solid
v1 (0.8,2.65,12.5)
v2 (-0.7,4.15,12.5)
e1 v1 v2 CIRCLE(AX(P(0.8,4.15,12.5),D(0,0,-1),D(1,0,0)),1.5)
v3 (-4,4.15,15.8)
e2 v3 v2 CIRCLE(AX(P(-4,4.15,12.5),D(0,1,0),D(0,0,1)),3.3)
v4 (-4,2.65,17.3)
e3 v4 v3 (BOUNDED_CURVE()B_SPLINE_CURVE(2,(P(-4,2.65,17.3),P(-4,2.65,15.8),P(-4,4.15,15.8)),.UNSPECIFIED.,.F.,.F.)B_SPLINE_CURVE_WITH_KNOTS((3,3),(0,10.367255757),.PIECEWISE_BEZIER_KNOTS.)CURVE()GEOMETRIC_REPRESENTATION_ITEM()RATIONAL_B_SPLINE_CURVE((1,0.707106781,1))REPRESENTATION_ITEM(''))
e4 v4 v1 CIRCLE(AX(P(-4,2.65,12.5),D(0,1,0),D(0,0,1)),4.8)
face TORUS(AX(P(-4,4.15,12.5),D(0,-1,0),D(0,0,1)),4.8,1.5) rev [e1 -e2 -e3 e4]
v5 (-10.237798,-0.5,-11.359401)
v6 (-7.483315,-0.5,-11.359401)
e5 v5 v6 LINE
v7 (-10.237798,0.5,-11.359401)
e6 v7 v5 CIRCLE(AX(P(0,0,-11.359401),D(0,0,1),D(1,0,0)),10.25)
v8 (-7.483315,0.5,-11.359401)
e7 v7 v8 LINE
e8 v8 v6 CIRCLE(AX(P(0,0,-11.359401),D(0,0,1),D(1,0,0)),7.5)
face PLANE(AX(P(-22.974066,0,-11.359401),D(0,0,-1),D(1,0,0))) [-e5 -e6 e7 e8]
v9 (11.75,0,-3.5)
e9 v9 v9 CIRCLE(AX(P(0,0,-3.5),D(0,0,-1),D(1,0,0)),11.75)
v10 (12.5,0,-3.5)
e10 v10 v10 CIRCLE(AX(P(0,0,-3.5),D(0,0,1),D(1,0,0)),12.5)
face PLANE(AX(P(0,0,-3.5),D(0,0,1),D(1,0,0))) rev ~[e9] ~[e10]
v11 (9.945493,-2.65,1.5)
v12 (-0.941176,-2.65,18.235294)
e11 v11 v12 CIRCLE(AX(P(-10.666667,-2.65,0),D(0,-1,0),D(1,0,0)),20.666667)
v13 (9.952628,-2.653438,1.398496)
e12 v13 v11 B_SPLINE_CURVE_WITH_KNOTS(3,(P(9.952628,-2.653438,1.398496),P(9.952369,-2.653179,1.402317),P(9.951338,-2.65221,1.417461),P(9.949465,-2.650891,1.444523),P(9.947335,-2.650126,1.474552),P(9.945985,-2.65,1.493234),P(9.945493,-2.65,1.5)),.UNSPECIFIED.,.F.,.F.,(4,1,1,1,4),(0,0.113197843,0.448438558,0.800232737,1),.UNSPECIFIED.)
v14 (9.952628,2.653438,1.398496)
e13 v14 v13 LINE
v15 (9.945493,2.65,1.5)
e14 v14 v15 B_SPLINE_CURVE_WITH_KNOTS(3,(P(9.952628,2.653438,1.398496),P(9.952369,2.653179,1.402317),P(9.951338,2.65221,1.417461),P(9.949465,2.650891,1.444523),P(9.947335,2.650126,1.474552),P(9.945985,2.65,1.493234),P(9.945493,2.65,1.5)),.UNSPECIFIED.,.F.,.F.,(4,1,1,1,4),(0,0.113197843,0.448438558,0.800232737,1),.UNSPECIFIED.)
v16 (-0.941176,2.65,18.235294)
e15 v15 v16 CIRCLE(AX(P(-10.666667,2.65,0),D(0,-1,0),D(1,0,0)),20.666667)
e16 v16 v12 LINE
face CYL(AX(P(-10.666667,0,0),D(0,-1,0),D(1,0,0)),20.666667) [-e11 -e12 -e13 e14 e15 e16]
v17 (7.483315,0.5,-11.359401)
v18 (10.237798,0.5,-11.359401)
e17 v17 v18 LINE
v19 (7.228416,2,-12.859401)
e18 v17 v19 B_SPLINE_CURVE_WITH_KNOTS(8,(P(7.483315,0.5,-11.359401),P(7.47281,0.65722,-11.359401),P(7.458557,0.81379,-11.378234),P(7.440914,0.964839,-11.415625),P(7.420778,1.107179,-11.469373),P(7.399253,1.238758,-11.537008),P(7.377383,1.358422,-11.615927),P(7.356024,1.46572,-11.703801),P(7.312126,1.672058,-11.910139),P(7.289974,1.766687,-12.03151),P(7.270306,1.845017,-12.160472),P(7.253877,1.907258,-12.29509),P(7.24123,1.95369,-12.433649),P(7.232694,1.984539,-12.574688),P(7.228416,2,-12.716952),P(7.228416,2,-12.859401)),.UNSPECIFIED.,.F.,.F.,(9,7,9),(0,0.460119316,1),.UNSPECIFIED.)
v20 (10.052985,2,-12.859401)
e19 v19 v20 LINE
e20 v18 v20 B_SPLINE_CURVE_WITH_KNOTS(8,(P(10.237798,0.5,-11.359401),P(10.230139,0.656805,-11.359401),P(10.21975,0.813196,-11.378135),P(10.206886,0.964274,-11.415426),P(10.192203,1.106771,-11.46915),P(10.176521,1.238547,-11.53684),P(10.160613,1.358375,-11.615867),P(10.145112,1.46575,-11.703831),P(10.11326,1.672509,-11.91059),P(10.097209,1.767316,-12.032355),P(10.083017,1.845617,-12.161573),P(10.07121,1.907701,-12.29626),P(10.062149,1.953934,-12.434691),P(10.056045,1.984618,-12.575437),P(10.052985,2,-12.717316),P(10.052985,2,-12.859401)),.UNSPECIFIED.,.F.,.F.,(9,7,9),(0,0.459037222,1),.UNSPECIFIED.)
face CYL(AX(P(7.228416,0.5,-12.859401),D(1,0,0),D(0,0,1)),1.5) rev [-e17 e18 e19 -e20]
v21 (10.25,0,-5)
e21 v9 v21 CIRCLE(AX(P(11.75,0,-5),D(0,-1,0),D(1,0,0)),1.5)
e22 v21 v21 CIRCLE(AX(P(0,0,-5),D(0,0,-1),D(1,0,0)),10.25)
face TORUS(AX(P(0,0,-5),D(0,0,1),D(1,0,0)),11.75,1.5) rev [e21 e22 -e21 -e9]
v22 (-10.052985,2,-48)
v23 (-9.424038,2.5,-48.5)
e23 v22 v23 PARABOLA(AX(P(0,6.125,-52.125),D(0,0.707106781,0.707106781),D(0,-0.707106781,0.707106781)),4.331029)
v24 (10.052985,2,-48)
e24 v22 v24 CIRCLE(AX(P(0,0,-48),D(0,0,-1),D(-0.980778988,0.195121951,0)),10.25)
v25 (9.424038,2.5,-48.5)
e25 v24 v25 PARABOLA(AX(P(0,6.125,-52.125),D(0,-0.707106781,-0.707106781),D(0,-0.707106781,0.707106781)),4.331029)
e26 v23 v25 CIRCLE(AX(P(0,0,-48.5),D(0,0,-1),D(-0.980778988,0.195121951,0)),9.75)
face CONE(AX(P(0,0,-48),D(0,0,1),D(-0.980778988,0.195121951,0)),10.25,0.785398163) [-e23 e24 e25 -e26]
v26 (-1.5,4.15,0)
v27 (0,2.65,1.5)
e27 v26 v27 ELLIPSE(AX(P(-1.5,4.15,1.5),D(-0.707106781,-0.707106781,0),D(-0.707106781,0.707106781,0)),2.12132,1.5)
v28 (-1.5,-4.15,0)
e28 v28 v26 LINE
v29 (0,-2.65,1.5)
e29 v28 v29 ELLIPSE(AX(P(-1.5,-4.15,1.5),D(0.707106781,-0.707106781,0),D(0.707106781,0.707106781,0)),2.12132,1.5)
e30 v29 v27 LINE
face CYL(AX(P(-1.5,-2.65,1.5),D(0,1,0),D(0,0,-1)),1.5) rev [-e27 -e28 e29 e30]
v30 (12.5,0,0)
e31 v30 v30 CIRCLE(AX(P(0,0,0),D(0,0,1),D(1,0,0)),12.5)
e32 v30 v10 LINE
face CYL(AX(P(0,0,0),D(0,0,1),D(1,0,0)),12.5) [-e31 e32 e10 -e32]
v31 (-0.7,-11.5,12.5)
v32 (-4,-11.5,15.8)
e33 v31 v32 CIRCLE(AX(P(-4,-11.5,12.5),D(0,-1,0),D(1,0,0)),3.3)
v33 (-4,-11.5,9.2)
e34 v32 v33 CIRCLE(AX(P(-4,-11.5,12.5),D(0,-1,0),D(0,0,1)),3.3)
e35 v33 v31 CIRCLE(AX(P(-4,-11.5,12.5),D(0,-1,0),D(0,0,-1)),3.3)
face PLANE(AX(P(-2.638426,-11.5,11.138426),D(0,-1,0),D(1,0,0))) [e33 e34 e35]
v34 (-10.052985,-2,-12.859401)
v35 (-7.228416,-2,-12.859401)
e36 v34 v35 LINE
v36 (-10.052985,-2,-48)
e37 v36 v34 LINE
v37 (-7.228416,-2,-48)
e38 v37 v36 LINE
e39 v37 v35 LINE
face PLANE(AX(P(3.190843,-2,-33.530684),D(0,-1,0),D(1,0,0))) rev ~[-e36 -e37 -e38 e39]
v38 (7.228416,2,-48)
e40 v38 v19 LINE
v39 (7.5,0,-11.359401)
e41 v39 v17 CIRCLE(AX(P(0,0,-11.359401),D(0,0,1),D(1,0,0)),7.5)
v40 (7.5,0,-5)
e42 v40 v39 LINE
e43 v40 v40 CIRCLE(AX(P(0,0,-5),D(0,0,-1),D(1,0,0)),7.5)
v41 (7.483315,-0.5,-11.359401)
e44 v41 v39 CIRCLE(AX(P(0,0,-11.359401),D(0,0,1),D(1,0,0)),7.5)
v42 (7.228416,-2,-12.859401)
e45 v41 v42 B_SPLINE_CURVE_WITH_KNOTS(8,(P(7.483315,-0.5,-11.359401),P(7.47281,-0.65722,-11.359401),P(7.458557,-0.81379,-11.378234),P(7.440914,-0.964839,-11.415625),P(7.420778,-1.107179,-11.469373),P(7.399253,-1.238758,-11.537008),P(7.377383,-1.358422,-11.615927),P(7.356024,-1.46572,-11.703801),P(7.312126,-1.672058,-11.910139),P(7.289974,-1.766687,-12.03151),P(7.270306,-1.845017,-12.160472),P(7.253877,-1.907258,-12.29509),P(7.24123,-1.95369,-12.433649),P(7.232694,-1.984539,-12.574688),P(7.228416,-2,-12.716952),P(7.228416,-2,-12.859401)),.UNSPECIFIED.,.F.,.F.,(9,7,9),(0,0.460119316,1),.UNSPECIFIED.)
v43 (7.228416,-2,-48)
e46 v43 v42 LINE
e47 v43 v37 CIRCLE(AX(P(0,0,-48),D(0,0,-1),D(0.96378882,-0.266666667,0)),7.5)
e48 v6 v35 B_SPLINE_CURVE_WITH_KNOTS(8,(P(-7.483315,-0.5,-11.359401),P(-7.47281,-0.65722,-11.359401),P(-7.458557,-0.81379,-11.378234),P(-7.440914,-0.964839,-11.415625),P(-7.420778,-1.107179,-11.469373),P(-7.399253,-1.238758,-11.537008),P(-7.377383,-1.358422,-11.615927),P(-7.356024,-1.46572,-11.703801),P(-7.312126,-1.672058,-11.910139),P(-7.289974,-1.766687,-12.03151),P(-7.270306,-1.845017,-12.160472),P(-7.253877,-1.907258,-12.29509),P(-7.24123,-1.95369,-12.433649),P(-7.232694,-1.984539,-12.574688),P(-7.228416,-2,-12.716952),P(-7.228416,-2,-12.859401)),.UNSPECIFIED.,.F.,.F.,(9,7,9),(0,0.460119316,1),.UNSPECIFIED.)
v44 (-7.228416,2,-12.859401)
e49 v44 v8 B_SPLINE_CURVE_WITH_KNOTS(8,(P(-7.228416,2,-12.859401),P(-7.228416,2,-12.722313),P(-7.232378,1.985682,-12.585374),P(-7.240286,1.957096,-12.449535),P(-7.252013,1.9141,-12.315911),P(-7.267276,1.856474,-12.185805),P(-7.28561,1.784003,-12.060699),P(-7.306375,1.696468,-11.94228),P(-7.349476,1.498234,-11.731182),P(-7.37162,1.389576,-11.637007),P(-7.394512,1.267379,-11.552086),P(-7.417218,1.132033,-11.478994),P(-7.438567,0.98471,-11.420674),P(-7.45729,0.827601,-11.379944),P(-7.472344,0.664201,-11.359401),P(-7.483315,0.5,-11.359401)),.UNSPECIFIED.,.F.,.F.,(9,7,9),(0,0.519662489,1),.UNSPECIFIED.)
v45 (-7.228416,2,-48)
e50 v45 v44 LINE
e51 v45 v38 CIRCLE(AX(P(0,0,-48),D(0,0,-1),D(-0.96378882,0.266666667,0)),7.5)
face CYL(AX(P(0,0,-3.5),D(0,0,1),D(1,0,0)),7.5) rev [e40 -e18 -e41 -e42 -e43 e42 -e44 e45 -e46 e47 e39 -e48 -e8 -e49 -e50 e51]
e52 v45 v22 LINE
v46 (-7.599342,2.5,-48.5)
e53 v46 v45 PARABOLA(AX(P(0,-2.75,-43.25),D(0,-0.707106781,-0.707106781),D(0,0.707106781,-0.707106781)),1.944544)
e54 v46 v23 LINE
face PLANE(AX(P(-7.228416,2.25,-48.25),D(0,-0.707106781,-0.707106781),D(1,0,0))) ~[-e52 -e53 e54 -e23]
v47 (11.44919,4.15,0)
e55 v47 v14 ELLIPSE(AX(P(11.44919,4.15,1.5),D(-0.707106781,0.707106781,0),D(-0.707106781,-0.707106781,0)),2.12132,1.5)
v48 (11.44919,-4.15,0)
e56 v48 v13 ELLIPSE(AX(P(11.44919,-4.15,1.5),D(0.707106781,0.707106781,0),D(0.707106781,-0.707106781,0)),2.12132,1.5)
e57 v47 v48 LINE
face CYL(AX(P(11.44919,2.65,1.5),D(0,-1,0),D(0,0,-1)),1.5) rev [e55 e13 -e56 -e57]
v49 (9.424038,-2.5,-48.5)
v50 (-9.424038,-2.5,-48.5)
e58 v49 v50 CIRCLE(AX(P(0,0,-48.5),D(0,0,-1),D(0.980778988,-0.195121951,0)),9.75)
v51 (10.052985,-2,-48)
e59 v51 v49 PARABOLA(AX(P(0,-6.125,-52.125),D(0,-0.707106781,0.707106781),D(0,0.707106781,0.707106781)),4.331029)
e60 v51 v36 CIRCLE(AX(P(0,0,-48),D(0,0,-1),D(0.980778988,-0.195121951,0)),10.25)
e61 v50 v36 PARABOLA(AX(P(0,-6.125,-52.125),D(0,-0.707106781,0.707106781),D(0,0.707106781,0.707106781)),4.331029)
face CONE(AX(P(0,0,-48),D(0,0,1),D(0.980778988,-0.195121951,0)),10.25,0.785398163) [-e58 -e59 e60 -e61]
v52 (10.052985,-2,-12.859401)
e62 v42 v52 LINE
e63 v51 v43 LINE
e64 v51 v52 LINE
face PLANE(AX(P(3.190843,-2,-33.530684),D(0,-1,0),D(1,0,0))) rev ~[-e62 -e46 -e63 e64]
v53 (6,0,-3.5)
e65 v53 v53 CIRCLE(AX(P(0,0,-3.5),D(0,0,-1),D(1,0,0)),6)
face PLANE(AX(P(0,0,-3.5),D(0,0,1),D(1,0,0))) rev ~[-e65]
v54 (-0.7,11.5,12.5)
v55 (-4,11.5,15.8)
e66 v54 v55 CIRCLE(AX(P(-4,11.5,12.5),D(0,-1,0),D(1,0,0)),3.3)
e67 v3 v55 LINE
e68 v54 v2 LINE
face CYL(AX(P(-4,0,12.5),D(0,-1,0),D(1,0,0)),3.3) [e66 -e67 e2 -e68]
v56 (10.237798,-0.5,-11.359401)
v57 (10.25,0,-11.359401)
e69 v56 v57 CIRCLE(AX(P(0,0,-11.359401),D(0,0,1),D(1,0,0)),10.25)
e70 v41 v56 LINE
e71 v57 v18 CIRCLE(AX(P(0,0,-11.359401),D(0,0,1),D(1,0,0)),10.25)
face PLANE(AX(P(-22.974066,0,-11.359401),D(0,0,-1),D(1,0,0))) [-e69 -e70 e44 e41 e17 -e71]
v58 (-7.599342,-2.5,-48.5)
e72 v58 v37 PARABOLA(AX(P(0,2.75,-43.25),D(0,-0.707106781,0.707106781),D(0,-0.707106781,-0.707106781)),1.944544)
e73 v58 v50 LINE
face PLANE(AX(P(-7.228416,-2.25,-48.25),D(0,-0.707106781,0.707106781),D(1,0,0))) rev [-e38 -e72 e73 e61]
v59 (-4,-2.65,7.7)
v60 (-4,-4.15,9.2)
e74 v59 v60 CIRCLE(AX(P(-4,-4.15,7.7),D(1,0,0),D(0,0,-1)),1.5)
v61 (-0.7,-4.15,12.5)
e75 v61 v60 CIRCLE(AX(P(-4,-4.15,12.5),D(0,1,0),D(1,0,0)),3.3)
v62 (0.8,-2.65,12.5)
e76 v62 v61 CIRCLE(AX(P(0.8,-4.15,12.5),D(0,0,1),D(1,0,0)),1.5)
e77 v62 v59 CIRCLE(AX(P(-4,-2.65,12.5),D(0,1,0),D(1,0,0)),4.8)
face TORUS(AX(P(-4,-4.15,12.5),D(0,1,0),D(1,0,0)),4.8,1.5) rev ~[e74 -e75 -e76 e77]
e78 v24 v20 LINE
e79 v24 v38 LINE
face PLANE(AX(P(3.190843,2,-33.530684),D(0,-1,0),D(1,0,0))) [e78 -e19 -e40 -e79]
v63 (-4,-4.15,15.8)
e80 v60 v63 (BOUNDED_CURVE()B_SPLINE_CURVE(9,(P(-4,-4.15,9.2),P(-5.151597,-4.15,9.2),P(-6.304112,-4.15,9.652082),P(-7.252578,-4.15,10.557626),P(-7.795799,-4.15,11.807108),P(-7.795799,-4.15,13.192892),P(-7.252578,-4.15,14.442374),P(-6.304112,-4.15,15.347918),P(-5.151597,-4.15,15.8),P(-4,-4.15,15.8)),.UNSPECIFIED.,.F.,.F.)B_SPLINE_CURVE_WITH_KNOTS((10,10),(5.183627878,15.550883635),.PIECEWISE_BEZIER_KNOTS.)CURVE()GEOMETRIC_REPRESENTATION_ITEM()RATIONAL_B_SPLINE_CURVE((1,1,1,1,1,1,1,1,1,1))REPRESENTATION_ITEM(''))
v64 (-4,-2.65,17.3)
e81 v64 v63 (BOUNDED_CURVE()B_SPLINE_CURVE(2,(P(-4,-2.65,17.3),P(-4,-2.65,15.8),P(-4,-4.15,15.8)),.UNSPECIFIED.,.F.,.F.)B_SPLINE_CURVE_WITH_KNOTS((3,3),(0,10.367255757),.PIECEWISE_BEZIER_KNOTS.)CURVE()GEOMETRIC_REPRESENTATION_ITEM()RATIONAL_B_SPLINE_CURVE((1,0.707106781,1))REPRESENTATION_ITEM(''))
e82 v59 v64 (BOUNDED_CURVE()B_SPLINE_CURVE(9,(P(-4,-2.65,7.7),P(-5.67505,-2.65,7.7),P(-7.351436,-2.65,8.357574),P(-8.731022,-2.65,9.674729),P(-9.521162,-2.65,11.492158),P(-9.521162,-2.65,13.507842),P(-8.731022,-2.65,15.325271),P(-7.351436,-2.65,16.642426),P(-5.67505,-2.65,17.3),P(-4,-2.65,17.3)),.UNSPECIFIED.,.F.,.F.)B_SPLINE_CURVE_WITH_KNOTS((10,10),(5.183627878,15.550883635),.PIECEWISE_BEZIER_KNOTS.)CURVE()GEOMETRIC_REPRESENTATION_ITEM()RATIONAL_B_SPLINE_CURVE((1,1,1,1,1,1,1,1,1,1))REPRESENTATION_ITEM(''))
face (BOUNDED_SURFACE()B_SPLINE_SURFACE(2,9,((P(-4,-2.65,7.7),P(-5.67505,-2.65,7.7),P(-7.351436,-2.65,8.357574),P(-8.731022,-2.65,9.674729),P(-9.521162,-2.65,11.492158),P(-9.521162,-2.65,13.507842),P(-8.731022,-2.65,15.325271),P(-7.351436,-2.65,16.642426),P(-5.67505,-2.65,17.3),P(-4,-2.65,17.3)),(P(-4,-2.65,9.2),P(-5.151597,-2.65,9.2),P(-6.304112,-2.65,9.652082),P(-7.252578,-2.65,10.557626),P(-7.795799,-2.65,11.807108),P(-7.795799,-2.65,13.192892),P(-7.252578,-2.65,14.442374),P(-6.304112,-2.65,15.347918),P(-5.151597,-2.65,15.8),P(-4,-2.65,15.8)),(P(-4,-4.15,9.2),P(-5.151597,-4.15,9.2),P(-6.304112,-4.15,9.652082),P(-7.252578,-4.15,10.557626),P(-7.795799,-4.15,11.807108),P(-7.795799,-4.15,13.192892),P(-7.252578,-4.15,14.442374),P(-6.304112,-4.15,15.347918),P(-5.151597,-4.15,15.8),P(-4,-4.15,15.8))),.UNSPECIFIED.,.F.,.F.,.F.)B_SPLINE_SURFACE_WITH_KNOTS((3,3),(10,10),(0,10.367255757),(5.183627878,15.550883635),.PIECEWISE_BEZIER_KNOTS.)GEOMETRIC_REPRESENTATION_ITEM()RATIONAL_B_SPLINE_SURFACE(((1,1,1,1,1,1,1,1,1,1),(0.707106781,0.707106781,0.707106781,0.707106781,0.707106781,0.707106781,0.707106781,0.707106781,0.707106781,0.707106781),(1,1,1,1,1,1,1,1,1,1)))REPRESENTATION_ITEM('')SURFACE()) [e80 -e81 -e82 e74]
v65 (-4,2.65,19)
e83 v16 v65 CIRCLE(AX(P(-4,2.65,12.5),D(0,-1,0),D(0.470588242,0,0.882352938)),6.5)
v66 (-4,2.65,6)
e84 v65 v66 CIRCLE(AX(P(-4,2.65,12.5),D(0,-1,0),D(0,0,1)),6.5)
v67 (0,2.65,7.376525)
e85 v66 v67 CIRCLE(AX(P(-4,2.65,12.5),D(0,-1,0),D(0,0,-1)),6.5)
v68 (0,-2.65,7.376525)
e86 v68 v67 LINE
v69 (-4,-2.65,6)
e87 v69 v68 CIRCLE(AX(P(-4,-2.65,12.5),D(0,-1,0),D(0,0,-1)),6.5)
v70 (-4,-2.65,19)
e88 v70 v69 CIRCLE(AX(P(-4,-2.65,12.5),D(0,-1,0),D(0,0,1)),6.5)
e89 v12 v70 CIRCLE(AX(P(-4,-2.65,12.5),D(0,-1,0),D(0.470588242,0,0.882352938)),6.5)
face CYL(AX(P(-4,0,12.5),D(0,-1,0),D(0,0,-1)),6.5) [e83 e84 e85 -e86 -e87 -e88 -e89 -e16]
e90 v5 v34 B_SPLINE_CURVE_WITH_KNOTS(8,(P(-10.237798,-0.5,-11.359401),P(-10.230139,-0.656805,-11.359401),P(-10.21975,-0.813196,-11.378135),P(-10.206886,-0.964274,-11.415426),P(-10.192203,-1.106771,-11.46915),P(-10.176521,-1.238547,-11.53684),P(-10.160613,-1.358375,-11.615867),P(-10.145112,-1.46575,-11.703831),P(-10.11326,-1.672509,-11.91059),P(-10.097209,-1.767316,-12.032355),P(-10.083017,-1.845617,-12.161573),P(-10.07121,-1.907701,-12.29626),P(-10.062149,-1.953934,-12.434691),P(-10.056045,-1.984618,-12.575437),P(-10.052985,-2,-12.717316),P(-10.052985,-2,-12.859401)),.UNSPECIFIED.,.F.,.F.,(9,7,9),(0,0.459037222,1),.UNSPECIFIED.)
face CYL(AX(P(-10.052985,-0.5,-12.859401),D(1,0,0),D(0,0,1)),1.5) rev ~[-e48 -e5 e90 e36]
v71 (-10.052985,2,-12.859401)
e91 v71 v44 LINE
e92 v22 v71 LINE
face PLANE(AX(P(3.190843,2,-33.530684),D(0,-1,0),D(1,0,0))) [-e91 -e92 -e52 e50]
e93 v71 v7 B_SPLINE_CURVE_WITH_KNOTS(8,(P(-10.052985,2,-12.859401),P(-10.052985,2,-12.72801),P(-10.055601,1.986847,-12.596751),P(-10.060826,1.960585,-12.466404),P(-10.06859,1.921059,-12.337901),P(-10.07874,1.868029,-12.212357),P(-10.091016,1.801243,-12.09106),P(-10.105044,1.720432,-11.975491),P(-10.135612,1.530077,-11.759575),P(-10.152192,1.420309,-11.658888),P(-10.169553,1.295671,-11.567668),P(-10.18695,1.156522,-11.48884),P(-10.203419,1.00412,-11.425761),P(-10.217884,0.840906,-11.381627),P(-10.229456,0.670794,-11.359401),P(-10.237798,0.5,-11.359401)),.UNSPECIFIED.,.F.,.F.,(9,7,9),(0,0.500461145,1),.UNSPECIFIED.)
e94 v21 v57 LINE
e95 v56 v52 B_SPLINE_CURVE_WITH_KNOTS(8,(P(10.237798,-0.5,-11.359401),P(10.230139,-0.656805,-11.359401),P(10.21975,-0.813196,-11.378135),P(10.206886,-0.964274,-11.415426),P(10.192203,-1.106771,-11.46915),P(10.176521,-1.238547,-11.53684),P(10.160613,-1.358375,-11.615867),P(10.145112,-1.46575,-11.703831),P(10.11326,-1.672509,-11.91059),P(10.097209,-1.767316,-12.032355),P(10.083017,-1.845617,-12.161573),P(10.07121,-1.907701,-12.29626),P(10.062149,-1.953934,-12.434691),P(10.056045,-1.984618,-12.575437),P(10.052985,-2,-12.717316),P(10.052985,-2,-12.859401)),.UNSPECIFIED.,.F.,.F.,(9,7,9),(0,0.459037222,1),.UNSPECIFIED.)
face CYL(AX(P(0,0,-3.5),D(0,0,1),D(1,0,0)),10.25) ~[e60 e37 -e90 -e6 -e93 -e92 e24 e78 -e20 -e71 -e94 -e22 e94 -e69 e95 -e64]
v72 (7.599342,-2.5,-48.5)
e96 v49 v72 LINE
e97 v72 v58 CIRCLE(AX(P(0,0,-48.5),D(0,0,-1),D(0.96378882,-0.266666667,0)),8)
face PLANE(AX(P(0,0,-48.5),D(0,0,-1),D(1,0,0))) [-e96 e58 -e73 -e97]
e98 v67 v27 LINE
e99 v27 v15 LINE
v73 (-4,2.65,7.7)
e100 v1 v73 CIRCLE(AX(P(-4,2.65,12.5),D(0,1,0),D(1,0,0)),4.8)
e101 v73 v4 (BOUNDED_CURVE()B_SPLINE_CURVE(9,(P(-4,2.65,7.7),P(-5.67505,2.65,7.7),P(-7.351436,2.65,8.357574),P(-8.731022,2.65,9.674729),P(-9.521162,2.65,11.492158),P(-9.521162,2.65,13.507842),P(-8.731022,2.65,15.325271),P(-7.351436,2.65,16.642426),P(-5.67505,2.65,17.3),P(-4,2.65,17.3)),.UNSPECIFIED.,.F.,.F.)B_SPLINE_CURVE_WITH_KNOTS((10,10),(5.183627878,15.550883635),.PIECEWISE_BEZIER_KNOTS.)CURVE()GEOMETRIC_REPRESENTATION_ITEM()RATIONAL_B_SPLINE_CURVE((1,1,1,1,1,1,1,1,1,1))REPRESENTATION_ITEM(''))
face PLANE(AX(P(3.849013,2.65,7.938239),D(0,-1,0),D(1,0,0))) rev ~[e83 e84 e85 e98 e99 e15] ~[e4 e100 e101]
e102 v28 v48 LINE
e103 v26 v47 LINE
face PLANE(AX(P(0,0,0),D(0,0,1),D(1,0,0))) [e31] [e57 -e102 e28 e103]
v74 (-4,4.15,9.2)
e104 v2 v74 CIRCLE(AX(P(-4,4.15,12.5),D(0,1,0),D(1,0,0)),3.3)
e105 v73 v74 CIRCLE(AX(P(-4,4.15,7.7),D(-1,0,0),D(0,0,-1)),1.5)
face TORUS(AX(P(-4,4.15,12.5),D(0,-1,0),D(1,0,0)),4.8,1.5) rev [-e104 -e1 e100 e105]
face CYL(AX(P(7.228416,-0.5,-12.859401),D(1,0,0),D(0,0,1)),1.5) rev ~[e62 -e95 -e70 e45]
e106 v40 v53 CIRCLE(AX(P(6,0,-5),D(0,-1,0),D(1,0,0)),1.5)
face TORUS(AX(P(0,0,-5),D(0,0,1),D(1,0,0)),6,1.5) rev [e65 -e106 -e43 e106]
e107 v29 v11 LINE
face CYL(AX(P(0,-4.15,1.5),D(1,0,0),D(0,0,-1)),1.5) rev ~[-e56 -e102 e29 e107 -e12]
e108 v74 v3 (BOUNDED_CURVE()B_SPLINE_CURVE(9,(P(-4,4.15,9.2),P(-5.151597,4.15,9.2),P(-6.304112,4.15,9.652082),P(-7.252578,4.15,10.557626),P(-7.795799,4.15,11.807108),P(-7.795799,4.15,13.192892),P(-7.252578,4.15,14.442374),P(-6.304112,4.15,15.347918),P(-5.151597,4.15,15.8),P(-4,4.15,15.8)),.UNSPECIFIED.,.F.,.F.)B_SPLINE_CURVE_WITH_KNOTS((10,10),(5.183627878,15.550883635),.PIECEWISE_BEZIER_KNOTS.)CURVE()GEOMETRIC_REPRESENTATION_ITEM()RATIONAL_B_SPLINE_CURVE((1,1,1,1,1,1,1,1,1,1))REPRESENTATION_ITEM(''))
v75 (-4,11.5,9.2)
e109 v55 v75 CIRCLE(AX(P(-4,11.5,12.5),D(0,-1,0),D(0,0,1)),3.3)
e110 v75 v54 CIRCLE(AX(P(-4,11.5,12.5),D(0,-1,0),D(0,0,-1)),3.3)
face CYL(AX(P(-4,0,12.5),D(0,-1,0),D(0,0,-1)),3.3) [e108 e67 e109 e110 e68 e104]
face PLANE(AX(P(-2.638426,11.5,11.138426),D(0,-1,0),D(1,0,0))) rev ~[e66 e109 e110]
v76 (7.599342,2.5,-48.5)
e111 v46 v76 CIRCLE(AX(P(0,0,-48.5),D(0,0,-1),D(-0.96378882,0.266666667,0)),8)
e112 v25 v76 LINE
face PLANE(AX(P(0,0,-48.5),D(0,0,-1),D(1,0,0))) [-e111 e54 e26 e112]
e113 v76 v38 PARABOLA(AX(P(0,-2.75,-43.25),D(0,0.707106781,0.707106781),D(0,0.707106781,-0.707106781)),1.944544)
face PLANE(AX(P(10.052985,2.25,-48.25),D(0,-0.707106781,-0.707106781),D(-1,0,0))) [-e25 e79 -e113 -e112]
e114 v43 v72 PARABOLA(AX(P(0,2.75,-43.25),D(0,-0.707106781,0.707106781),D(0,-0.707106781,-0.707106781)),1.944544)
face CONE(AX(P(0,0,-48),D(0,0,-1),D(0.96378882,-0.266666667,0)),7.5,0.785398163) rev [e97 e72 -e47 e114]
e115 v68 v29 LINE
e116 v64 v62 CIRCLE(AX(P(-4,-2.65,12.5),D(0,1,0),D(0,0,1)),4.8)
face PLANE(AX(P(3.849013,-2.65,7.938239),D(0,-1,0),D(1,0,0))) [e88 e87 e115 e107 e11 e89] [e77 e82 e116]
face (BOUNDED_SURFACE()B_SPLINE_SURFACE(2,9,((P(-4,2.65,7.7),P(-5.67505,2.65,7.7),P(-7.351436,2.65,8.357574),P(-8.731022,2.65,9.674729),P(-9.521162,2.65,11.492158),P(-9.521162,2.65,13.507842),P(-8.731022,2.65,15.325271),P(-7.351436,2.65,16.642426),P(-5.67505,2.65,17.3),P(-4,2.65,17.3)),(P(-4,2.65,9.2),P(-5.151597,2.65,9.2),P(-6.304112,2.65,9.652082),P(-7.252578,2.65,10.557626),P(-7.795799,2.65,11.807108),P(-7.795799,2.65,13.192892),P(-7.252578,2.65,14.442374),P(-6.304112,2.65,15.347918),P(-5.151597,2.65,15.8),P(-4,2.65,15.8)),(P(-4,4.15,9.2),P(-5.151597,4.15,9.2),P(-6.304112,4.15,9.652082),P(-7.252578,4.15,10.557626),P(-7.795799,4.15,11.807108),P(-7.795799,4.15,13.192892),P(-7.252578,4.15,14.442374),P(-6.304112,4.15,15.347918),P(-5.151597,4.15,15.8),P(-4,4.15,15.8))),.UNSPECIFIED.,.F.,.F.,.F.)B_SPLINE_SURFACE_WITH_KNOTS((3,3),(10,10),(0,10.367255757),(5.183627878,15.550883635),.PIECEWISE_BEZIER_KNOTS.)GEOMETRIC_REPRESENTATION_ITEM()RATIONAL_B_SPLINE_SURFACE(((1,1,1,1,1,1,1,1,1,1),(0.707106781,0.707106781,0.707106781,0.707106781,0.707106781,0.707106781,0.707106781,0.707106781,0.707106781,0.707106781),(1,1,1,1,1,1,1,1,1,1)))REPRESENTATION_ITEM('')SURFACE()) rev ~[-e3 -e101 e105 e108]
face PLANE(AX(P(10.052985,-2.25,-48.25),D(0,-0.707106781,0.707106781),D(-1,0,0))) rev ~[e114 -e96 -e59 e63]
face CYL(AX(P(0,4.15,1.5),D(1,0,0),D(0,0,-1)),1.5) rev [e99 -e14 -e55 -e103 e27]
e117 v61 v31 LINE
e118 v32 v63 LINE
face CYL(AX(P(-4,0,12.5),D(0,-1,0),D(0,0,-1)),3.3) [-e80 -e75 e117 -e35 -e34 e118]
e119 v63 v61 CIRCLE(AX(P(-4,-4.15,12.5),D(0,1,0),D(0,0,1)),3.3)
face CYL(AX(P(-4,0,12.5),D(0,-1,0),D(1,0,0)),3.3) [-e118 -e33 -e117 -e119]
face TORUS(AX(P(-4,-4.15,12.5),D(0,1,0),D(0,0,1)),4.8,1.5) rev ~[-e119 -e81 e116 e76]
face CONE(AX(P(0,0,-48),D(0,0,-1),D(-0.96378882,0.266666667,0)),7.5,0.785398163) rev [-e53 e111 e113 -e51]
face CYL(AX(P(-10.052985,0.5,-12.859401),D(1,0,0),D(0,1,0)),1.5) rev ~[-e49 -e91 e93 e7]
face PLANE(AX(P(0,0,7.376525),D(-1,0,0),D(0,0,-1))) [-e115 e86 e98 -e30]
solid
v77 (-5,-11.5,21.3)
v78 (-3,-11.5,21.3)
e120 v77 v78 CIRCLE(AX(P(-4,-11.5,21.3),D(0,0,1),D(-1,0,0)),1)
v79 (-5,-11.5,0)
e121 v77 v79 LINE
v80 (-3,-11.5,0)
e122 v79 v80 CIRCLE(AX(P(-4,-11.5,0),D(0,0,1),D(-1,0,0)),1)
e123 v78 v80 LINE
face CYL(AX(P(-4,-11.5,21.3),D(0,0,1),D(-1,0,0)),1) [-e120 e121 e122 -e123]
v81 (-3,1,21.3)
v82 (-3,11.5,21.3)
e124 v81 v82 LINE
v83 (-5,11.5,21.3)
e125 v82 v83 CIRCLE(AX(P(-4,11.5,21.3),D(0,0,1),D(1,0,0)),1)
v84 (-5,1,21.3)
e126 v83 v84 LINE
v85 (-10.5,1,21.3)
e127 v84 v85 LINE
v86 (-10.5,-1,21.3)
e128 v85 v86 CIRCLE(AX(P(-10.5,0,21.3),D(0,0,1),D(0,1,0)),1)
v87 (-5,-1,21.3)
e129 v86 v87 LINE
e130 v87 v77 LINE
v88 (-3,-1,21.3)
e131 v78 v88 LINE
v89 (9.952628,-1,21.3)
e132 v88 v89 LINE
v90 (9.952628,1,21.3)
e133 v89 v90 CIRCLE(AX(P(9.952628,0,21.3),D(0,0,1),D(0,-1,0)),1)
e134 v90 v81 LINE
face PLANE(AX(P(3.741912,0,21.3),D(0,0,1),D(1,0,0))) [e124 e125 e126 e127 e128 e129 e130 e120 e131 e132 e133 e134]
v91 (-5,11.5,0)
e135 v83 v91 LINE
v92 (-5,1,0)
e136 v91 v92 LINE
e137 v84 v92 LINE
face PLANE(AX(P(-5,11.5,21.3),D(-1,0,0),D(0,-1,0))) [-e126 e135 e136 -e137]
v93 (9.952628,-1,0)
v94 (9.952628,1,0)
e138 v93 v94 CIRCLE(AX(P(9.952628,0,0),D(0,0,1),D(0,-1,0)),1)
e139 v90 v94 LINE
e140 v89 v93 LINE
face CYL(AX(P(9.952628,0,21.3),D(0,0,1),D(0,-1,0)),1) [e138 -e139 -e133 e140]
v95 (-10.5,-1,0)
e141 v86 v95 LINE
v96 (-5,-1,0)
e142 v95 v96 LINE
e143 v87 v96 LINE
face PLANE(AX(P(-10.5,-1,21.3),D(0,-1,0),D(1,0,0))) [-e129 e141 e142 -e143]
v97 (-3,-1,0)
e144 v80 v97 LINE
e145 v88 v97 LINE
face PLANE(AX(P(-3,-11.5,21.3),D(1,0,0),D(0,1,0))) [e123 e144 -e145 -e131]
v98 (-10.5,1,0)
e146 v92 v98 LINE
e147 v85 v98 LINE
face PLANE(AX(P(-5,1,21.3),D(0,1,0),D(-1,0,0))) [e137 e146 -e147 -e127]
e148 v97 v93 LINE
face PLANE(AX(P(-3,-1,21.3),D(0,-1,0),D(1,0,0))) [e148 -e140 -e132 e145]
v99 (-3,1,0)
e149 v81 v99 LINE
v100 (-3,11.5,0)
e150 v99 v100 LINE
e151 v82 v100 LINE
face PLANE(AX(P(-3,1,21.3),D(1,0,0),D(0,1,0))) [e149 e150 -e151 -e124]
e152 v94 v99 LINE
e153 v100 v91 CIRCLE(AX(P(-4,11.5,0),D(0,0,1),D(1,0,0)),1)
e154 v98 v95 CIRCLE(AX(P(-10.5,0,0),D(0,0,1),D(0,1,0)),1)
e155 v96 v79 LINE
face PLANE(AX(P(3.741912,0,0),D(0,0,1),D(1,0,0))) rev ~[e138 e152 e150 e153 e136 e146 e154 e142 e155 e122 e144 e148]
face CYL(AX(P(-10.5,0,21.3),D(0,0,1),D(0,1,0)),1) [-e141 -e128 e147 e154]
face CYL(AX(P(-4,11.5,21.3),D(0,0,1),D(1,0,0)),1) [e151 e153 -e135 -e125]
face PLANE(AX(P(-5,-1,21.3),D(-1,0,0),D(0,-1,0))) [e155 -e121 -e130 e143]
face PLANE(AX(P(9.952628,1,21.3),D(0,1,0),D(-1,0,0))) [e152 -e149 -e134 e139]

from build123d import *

# Parameters (mm, degrees)
F1_DEPTH  = 2.65
F2_DEPTH  = 11.5
F3_R      = 12.5
F4_DEPTH  = 3.5
F5_R      = 10.25
F5_R_2    = 7.5
F6_DEPTH  = 45
F7_W      = 52.3298196495
F7_H      = 44.3425662816
F8_DEPTH  = 2
F9_R      = 1.5
F13_SIZE  = 0.5
F11_W     = 1
F11_H     = 1
F12_DEPTH = 21.3


with BuildPart() as f1:
    # F0 (on Front) → F1 (new body, symmetric)
    with BuildSketch(Plane.XZ):
        with BuildLine():
            ThreePointArc((2.5, 12.5), (1.8416607228, 9.6495614373), (0, 7.376524617))
            Line((0, 7.376524617), (0, 0))
            Line((0, 0), (10, 0))
            ThreePointArc((10, 0), (7.0548538101, 10.6329122587), (-0.9411764292, 18.2352940956))
            ThreePointArc((-0.9411764292, 18.2352940956), (1.5737040292, 15.8442223901), (2.5, 12.5))
        make_face()
        with BuildLine():
            ThreePointArc((-4, 15.8), (-1.6665476221, 14.8334523779), (-0.7, 12.5))
            Line((-0.7, 12.5), (0, 12.5))
            Line((0, 12.5), (0, 7.376524617))
            ThreePointArc((0, 7.376524617), (1.8416607228, 9.6495614373), (2.5, 12.5))
            ThreePointArc((2.5, 12.5), (1.5737040292, 15.8442223901), (-0.9411764292, 18.2352940956))
            ThreePointArc((-0.9411764292, 18.2352940956), (-2.4235184145, 18.8059262453), (-4, 19))
            Line((-4, 19), (-4, 15.8))
        make_face()
        with BuildLine():
            Line((0, 12.5), (-0.7, 12.5))
            ThreePointArc((-0.7, 12.5), (-1.6665476221, 10.1665476221), (-4, 9.2))
            Line((-4, 9.2), (-4, 6))
            ThreePointArc((-4, 6), (-1.8848865266, 6.3537576525), (0, 7.376524617))
            Line((0, 7.376524617), (0, 12.5))
        make_face()
        with BuildLine():
            ThreePointArc((-4, 9.2), (-7.3, 12.5), (-4, 15.8))
            Line((-4, 15.8), (-4, 19))
            ThreePointArc((-4, 19), (-10.5, 12.5), (-4, 6))
            Line((-4, 6), (-4, 9.2))
        make_face()
    extrude(amount=F1_DEPTH, both=True)

    # F0 (on Front) → F2 (join, symmetric)
    with BuildSketch(Plane.XZ):
        with BuildLine():
            ThreePointArc((-4, 9.2), (-1.6665476221, 10.1665476221), (-0.7, 12.5))
            Line((-0.7, 12.5), (-4, 12.5))
            Line((-4, 12.5), (-4, 9.2))
        make_face()
        with BuildLine():
            Line((-4, 12.5), (-0.7, 12.5))
            ThreePointArc((-0.7, 12.5), (-1.6665476221, 14.8334523779), (-4, 15.8))
            Line((-4, 15.8), (-4, 12.5))
        make_face()
        with BuildLine():
            Line((-4, 12.5), (-4, 15.8))
            ThreePointArc((-4, 15.8), (-7.3, 12.5), (-4, 9.2))
            Line((-4, 9.2), (-4, 12.5))
        make_face()
    extrude(amount=F2_DEPTH, both=True)

    # F3 (on Top) → F4 (join)
    with BuildSketch(Plane.XY):
        Circle(F3_R)
    extrude(amount=-F4_DEPTH)

    # F5 (on face) → F6 (join)
    with BuildSketch(Plane(origin=(0, 0, -3.5), x_dir=(1, 0, 0), z_dir=(0, 0, -1))):
        Circle(F5_R)
        Circle(F5_R_2, mode=Mode.SUBTRACT)
    extrude(amount=F6_DEPTH)

    # F7 (on Front) → F8 (cut, symmetric)
    with BuildSketch(Plane.XZ):
        with Locations((3.1908433884, -33.530684188)):
            Rectangle(F7_W, F7_H)
    extrude(amount=F8_DEPTH, both=True, mode=Mode.SUBTRACT)

    # F9
    f9_edges = [f1.edges().sort_by_distance(p)[0] for p in [
        (5, -2.65, 0),
        (-4, -2.65, 9.2),
        (-4, 2.65, 9.2),
        (0, 0, 0),
        (-10.25, 0, -3.5),
        (5, 2.65, 0),
        (10, 0, 0),
        (-7.5, 0, -3.5),
        (8.6407, 2, -11.359401),
        (-8.6407, 2, -11.359401),
        (8.6407, -2, -11.359401),
        (-8.6407, -2, -11.359401),
    ]]
    fillet(f9_edges, radius=F9_R)

    # F13
    f13_edges = [f1.edges().sort_by_distance(p)[0] for p in [
        (0, 10.25, -48.5),
        (-8.6407, 2, -48.5),
        (0, 7.5, -48.5),
        (8.6407, 2, -48.5),
        (8.6407, -2, -48.5),
        (0, -7.5, -48.5),
        (-8.6407, -2, -48.5),
        (0, -10.25, -48.5),
    ]]
    chamfer(f13_edges, length=F13_SIZE)


with BuildPart() as f12:
    # F11 (on offset) → F12 (new body, through all)
    with BuildSketch(Plane.XY.offset(21.3)):
        with BuildLine():
            Line((9.9526281655, 1), (-3, 1))
            Line((-3, 1), (-3, 0))
            Line((-3, 0), (-3, -1))
            Line((-3, -1), (9.9526281655, -1))
            ThreePointArc((9.9526281655, -1), (10.9526281655, 0), (9.9526281655, 1))
        make_face()
        with BuildLine():
            Line((-5, 0), (-5, 1))
            Line((-5, 1), (-10.5, 1))
            ThreePointArc((-10.5, 1), (-11.5, 0), (-10.5, -1))
            Line((-10.5, -1), (-5, -1))
            Line((-5, -1), (-5, 0))
        make_face()
        with Locations((-4.5, -0.5)):
            Rectangle(F11_W, F11_H)
        with Locations((-3.5, -0.5)):
            Rectangle(F11_W, F11_H)
        with Locations((-3.5, 0.5)):
            Rectangle(F11_W, F11_H)
        with Locations((-4.5, 0.5)):
            Rectangle(F11_W, F11_H)
        with BuildLine():
            Line((-5, 1), (-4, 1))
            Line((-4, 1), (-3, 1))
            Line((-3, 1), (-3, 11.5))
            ThreePointArc((-3, 11.5), (-4, 12.5), (-5, 11.5))
            Line((-5, 11.5), (-5, 1))
        make_face()
        with BuildLine():
            Line((-3, -1), (-4, -1))
            Line((-4, -1), (-5, -1))
            Line((-5, -1), (-5, -11.5))
            ThreePointArc((-5, -11.5), (-4, -12.5), (-3, -11.5))
            Line((-3, -11.5), (-3, -1))
        make_face()
    extrude(amount=-F12_DEPTH)


solid = Compound([f1.part, f12.part])
